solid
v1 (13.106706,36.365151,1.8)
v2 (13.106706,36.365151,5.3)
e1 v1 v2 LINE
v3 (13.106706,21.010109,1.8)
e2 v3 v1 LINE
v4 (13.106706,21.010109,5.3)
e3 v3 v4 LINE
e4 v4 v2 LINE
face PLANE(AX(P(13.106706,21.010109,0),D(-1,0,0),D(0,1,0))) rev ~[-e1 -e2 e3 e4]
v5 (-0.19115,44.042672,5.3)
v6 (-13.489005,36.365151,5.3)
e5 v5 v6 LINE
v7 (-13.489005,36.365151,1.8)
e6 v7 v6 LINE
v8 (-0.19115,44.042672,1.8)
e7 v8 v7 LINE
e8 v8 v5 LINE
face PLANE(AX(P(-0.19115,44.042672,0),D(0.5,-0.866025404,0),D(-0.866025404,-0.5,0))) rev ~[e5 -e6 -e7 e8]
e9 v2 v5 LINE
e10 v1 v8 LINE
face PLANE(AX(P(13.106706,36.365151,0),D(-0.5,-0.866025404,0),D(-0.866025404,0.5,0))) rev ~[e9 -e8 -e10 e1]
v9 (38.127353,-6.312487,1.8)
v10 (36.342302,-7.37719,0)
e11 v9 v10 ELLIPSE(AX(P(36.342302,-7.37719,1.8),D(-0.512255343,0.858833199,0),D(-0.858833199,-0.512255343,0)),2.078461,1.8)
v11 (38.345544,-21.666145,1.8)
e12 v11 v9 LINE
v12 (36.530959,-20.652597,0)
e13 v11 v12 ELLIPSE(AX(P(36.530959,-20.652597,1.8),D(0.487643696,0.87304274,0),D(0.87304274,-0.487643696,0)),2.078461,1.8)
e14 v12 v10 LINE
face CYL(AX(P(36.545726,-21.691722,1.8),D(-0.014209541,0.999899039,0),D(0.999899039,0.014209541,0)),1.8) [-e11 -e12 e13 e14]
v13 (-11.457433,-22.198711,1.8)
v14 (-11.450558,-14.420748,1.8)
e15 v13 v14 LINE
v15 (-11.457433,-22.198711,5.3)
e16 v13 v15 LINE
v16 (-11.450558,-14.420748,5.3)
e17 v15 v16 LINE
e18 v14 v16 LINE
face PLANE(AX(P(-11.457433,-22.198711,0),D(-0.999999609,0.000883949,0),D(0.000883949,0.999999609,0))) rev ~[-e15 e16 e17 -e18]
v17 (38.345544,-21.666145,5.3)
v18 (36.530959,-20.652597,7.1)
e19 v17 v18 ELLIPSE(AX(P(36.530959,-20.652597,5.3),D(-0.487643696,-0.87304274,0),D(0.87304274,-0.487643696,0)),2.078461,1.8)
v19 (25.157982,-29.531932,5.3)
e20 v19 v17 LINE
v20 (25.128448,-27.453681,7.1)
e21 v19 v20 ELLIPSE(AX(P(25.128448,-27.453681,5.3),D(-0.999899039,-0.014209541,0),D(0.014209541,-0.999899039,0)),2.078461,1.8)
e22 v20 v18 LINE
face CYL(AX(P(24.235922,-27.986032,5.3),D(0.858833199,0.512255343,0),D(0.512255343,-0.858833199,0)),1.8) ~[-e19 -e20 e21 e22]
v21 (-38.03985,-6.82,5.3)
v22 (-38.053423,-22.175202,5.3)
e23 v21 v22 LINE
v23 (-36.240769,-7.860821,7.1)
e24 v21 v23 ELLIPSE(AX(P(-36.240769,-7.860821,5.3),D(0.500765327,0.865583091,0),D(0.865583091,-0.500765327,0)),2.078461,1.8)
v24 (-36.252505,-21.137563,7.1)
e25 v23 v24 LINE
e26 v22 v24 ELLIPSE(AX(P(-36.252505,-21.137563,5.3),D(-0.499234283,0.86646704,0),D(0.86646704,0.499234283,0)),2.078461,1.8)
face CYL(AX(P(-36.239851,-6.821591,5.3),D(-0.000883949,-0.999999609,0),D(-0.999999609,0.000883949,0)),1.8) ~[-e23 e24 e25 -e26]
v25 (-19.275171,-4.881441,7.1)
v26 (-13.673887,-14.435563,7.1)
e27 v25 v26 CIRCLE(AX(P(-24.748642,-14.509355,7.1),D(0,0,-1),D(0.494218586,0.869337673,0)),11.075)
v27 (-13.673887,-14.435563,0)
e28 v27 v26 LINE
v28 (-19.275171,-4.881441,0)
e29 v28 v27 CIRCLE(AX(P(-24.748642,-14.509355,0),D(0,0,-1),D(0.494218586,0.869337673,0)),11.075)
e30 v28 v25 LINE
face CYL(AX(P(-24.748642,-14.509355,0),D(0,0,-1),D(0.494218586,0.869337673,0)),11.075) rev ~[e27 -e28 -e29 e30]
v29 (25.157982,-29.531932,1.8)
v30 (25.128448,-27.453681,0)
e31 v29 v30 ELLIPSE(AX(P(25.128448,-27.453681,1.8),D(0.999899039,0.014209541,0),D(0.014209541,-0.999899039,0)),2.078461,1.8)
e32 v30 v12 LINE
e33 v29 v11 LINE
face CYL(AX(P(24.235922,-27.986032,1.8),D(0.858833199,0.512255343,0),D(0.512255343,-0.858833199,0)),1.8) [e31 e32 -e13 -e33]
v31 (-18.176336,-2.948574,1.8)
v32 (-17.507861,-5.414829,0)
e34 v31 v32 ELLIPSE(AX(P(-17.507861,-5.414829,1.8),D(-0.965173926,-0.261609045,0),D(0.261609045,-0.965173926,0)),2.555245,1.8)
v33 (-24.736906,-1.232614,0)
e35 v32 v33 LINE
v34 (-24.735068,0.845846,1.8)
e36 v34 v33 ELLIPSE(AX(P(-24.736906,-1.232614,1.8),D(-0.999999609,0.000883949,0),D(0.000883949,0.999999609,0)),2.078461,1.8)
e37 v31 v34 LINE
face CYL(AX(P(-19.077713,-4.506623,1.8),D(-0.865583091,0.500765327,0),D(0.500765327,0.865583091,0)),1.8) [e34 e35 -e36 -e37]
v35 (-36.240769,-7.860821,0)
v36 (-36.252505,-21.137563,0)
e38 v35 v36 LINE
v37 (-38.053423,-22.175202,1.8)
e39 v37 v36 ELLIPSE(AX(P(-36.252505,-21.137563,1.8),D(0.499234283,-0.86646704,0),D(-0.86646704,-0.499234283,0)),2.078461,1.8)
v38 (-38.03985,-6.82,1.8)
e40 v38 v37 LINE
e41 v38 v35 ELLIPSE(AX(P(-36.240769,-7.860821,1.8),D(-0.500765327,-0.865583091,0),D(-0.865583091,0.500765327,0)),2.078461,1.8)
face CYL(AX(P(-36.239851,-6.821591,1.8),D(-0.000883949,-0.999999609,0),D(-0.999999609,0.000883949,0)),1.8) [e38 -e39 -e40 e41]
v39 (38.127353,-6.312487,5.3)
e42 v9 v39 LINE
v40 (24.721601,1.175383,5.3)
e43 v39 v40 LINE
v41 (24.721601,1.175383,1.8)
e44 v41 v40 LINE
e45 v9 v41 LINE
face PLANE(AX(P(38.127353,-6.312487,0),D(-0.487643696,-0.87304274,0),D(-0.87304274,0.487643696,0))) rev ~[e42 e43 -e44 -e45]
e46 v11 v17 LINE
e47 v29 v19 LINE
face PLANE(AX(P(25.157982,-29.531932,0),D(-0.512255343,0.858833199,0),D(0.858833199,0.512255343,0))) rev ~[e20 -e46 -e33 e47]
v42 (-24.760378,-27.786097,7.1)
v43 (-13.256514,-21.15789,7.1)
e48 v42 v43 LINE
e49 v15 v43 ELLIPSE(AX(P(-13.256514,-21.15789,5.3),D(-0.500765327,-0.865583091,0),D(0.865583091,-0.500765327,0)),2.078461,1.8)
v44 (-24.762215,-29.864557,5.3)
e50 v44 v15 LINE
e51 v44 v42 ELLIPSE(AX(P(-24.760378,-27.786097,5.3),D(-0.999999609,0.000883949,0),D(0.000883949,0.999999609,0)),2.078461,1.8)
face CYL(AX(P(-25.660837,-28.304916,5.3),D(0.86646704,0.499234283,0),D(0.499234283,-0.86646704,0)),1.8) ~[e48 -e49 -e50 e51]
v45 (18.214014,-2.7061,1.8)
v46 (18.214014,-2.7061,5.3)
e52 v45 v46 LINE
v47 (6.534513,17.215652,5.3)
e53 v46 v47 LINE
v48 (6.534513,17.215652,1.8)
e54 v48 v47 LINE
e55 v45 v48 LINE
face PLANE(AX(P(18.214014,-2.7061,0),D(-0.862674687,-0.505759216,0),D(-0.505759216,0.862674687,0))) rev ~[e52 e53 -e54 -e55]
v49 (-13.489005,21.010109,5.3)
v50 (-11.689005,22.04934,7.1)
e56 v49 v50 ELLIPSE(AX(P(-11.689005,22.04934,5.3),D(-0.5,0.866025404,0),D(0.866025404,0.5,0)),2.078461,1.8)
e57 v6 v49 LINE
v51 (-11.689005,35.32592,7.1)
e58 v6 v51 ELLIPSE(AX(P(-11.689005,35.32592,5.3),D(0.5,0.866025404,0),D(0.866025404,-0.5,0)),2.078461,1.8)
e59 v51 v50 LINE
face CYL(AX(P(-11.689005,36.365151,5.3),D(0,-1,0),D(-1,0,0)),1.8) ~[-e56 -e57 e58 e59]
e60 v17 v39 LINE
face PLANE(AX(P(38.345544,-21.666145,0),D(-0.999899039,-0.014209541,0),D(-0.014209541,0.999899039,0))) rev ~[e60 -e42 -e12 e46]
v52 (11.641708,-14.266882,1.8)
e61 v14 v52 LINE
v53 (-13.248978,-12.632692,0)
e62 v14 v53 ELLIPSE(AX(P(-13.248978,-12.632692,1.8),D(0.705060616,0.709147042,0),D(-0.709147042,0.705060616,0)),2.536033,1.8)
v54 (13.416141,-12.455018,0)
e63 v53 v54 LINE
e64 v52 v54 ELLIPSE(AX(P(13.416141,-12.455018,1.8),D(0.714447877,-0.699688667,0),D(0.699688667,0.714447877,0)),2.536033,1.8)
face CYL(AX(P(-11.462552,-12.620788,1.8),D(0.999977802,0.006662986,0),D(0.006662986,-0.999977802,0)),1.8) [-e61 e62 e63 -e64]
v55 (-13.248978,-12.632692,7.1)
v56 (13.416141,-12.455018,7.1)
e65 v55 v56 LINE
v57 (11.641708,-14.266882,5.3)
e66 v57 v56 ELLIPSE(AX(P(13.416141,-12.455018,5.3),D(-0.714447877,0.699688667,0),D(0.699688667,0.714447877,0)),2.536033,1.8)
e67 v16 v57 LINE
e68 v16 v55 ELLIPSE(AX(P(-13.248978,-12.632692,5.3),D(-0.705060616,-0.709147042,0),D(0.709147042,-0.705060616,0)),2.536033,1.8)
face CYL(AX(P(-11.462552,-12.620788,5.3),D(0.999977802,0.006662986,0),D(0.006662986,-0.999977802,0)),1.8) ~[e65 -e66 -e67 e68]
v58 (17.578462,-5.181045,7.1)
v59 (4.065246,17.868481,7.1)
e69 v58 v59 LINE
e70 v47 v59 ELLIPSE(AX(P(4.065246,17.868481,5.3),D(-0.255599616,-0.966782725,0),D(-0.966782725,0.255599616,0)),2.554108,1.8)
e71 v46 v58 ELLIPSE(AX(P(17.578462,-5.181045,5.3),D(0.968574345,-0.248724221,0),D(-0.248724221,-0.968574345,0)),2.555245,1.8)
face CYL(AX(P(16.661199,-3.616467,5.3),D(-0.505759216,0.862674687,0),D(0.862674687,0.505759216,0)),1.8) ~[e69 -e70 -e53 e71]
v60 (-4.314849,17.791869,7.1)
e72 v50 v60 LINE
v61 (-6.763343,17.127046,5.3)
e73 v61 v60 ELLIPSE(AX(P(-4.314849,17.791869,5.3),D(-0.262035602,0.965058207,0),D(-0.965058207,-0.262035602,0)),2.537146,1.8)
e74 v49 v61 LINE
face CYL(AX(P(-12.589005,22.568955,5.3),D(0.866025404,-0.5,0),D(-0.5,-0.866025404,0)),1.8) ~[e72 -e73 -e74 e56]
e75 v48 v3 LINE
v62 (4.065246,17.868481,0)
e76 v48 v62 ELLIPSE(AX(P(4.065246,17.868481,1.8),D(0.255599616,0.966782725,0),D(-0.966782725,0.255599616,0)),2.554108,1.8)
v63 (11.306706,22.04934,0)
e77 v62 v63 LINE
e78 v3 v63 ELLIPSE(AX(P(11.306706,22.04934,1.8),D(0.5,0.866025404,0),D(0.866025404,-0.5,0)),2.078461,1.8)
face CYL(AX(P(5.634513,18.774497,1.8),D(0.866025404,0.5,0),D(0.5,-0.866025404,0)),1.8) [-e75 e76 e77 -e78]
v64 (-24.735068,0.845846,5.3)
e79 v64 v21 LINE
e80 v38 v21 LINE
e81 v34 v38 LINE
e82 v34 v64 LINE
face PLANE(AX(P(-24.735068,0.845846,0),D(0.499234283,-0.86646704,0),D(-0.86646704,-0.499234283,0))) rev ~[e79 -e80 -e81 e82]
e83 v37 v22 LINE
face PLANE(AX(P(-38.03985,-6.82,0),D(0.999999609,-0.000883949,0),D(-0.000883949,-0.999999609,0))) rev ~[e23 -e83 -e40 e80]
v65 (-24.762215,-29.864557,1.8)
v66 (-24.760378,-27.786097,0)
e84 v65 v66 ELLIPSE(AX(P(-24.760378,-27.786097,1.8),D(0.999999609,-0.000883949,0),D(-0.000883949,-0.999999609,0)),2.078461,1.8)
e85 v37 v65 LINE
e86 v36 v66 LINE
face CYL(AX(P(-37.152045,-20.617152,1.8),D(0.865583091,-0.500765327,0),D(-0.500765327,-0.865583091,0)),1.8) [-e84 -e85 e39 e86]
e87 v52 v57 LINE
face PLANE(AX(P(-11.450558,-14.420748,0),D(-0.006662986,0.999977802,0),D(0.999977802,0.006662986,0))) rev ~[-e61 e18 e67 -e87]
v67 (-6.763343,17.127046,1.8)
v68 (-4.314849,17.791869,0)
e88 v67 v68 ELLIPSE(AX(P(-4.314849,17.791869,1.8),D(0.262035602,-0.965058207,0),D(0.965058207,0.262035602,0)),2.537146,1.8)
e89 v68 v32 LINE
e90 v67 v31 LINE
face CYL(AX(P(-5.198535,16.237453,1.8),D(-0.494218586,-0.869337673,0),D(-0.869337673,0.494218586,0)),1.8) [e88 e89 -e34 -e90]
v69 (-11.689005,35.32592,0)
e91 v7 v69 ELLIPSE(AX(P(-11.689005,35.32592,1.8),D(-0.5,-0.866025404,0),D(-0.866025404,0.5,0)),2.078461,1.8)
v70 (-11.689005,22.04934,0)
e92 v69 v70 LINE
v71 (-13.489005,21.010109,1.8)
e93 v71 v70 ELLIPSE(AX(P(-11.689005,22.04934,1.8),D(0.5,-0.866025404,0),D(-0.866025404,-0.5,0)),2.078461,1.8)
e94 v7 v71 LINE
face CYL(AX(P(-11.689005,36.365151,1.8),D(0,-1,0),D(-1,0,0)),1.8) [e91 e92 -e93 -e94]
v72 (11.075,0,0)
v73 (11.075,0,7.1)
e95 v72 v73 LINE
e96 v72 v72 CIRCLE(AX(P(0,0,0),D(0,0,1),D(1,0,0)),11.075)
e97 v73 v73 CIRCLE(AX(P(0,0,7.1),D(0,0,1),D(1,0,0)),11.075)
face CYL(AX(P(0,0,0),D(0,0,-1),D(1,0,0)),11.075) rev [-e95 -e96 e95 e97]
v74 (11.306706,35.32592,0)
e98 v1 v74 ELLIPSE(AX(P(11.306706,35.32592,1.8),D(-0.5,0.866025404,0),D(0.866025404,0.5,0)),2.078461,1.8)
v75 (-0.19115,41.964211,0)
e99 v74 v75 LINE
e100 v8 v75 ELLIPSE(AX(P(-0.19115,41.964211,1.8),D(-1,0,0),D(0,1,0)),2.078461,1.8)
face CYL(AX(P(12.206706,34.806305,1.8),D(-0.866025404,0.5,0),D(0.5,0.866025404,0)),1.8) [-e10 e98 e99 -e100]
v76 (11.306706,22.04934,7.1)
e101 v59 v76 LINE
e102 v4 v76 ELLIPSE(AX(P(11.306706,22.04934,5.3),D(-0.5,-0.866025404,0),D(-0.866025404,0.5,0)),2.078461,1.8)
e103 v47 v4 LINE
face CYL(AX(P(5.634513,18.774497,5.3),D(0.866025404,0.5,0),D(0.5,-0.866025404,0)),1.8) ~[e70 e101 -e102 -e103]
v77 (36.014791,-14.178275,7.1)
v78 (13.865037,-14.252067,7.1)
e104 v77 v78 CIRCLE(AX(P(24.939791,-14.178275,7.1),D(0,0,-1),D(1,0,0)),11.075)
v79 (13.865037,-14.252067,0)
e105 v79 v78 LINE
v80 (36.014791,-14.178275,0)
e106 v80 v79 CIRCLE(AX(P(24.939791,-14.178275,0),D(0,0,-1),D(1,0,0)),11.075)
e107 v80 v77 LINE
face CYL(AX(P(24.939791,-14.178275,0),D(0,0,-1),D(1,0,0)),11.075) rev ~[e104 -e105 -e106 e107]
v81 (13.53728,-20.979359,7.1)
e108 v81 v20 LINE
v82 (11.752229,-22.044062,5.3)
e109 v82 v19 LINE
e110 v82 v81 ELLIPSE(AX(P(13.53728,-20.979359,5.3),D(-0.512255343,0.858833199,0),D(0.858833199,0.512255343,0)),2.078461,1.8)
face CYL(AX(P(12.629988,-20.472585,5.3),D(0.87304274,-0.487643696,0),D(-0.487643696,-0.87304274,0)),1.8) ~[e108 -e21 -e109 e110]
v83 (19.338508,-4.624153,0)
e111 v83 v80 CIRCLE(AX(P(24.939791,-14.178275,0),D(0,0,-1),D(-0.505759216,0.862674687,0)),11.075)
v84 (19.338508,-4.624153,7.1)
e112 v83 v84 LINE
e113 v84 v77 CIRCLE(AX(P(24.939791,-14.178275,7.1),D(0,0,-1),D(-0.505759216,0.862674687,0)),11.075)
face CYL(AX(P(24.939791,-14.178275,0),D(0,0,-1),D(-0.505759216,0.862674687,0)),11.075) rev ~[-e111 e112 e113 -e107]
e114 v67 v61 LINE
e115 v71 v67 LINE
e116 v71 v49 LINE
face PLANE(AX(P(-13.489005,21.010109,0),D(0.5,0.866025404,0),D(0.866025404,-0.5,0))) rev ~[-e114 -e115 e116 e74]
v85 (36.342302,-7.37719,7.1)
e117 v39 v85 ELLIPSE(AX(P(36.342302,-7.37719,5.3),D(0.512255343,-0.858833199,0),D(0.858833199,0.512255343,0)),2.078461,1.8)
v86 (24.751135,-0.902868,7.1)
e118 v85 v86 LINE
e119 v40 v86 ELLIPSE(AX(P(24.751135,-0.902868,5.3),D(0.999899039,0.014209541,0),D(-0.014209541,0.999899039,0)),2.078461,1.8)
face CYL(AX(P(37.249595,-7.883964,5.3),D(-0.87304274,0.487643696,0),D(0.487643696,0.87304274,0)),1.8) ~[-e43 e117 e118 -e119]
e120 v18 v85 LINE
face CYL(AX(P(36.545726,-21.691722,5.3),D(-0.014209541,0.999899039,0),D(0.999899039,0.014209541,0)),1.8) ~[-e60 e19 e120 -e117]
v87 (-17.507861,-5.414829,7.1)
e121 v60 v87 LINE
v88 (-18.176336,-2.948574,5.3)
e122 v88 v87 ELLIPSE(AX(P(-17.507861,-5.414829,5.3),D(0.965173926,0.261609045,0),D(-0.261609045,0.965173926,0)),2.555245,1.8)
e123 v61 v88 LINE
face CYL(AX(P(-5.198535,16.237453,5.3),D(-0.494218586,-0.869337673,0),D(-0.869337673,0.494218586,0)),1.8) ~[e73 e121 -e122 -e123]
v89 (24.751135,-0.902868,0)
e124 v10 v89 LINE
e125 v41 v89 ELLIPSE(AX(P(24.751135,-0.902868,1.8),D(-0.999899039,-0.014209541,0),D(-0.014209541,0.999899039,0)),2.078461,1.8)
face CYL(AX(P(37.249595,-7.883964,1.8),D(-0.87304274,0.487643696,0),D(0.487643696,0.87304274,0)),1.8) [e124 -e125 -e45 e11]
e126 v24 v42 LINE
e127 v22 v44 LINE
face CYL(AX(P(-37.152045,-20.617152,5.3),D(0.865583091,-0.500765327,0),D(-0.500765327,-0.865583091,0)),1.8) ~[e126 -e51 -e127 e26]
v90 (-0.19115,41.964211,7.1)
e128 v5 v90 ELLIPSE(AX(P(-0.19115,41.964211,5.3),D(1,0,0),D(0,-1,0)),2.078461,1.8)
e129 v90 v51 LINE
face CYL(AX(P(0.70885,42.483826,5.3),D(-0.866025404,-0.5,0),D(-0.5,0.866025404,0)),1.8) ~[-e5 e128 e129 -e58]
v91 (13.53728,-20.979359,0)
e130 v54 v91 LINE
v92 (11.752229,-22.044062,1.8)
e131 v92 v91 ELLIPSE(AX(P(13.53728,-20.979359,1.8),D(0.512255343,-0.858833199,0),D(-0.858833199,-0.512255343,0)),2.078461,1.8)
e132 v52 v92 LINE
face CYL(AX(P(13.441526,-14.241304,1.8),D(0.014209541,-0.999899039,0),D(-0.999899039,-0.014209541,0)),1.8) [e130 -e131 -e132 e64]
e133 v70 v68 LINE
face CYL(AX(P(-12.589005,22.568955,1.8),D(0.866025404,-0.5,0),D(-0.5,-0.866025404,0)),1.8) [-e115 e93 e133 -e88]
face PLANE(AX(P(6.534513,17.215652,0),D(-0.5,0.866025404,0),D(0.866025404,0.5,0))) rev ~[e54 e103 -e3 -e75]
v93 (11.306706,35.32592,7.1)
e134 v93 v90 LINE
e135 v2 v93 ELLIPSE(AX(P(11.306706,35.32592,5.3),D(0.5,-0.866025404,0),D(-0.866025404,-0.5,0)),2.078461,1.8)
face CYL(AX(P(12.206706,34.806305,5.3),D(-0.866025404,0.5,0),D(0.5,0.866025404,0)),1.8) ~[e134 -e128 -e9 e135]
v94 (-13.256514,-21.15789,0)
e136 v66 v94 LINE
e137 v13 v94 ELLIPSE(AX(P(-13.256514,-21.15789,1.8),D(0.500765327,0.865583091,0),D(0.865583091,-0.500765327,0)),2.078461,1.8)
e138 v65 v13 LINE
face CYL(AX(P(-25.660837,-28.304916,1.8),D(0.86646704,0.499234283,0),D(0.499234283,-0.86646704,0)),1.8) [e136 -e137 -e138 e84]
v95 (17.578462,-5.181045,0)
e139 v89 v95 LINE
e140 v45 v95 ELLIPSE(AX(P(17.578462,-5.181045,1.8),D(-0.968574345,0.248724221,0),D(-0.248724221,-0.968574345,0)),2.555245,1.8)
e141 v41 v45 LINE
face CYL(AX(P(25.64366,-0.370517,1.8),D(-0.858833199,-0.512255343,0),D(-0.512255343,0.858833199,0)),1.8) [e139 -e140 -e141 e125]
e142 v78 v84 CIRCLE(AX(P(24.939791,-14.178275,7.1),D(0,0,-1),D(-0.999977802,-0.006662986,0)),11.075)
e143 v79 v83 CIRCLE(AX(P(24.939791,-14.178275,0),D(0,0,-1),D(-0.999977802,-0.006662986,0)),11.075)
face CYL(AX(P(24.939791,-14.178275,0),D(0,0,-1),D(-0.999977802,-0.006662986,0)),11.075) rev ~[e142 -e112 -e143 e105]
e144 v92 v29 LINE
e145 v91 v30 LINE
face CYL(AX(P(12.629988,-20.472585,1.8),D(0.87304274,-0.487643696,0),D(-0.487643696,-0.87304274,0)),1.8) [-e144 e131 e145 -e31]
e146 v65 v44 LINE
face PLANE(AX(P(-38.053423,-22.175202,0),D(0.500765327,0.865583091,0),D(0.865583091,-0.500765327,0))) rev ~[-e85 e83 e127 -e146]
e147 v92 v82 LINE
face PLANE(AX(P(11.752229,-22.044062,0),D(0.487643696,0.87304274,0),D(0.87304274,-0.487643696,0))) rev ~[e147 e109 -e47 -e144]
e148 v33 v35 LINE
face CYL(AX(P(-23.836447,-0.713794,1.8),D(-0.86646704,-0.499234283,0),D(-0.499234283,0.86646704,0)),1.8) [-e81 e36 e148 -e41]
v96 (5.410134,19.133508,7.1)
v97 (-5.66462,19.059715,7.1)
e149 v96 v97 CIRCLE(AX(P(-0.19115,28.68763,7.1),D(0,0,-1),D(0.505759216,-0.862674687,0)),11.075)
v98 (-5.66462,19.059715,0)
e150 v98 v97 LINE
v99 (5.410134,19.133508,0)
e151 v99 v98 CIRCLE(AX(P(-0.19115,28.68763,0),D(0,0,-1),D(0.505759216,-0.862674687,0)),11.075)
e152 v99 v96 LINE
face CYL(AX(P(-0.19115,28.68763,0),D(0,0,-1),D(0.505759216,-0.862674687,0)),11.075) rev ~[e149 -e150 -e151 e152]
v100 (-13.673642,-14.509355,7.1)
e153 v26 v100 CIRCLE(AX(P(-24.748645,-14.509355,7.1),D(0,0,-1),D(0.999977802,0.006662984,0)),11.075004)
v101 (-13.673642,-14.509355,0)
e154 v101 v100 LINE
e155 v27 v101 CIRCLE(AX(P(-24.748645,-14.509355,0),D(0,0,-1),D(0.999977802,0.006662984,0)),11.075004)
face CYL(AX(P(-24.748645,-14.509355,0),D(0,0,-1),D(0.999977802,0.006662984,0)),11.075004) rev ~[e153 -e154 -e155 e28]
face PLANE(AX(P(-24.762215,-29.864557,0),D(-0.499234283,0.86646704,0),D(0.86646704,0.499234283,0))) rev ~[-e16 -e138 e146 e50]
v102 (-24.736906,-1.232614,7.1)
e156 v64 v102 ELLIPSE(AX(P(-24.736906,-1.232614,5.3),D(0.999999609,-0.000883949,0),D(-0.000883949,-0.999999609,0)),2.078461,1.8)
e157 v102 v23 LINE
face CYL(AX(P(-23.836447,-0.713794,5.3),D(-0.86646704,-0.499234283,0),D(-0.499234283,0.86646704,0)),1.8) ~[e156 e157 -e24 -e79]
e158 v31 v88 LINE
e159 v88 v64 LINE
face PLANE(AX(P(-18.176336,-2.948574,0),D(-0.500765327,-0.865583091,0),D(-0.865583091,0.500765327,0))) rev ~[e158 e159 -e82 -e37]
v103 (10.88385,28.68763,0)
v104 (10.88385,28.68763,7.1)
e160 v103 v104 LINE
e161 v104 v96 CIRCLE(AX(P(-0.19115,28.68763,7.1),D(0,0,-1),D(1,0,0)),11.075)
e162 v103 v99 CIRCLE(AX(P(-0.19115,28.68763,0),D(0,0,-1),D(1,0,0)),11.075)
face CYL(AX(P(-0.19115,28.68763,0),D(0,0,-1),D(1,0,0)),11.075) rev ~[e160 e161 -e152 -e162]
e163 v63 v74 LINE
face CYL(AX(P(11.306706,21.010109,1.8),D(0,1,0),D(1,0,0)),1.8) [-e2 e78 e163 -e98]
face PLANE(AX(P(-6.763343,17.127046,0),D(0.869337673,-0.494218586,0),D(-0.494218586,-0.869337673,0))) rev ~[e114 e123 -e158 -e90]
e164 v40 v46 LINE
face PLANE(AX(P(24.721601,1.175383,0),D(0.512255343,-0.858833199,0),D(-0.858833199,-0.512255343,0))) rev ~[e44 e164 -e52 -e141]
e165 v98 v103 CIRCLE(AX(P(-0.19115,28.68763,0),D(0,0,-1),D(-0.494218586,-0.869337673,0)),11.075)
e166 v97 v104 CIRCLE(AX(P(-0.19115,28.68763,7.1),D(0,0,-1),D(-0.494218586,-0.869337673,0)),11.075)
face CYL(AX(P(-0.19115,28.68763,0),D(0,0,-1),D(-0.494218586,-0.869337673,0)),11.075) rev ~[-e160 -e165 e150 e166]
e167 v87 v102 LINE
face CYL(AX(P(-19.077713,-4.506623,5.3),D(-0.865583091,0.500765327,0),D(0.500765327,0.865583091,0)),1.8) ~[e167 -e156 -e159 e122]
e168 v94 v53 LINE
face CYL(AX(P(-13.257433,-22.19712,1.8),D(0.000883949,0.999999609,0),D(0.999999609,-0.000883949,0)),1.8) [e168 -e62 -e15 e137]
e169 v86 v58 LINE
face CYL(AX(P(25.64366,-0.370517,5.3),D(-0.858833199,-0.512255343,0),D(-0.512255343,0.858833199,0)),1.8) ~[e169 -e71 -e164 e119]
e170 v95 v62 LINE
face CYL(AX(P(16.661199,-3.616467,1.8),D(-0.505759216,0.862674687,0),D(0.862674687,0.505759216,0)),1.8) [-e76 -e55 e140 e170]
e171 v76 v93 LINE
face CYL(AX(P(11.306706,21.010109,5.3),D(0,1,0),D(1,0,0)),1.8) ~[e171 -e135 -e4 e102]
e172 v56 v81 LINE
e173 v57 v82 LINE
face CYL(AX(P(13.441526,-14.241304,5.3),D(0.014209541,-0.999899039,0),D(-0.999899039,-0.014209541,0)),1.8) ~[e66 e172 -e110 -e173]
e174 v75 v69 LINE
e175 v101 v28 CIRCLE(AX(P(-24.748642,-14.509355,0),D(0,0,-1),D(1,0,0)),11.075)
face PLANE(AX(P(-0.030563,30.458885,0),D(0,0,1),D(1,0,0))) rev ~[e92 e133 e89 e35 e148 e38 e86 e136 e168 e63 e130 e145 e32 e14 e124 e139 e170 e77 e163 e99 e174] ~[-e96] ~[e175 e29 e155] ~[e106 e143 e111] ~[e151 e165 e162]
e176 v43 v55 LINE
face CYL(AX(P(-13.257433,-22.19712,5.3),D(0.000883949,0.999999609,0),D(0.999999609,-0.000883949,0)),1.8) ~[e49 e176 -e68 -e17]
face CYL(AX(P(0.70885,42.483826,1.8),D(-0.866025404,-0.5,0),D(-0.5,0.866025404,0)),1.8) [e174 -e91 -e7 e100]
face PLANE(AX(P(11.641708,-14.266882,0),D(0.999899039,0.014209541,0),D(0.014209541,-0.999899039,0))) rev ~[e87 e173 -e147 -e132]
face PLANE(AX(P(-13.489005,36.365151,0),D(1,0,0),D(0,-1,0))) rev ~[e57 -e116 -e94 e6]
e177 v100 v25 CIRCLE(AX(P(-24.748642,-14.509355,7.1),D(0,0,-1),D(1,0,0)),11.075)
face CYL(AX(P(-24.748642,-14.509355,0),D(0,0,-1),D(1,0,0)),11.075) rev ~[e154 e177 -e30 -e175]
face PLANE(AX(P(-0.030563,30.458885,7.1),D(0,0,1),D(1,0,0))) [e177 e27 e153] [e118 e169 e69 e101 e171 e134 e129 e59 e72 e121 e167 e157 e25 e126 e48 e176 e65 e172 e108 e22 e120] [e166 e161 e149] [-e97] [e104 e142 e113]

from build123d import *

# Parameters (mm, degrees)
F0_R     = 11.075
F1_DEPTH = 7.1
F2_R     = 1.8


with BuildPart() as f1:
    # F0 (on Top) → F1 (new body)
    with BuildSketch(Plane.XY):
        with BuildLine():
            ThreePointArc((10.883850477, 28.6876300688), (9.4184768424, 23.182114097), (5.4101337969, 19.1335079129))
            Line((5.4101337969, 19.1335079129), (6.5345129791, 17.2156516926))
            Line((6.5345129791, 17.2156516926), (13.1067064335, 21.0101093527))
            Line((13.1067064335, 21.0101093527), (13.1067064335, 36.365150785))
            Line((13.1067064335, 36.365150785), (-0.191149523, 44.0426715011))
            Line((-0.191149523, 44.0426715011), (-13.4890054796, 36.365150785))
            Line((-13.4890054796, 36.365150785), (-13.4890054796, 21.0101093527))
            Line((-13.4890054796, 21.0101093527), (-6.7633429774, 17.1270462966))
            Line((-6.7633429774, 17.1270462966), (-5.664620361, 19.059715342))
            ThreePointArc((-5.664620361, 19.059715342), (-5.7605720905, 38.2603599441), (10.883850477, 28.6876300688))
        make_face()
        with BuildLine():
            Line((6.5345129791, 17.2156516926), (5.4101337969, 19.1335079129))
            ThreePointArc((5.4101337969, 19.1335079129), (-0.1173569522, 17.612875911), (-5.664620361, 19.059715342))
            Line((-5.664620361, 19.059715342), (-6.7633429774, 17.1270462966))
            Line((-6.7633429774, 17.1270462966), (-0.191149523, 13.3325886365))
            Line((-0.191149523, 13.3325886365), (6.5345129791, 17.2156516926))
        make_face()
        Polygon((18.2140135788, -2.7060999984), (6.5345129791, 17.2156516926), (-0.191149523, 13.3325886365), (-6.7633429774, 17.1270462966), (-18.1763357298, -2.9485737718), (-11.4438602402, -6.8435092462), (-11.4505581332, -14.420748465), (11.6417076562, -14.2668816039), (11.5340385205, -6.6904044278), align=None)
        Circle(F0_R, mode=Mode.SUBTRACT)
        with BuildLine():
            Line((24.7216007166, 1.1753827964), (18.2140135788, -2.7060999984))
            Line((18.2140135788, -2.7060999984), (19.3385078556, -4.6241525356))
            ThreePointArc((19.3385078556, -4.6241525356), (30.4453071473, -4.5686483261), (36.0147911755, -14.1782746915))
            ThreePointArc((36.0147911755, -14.1782746915), (24.9766876657, -25.2532132308), (13.8650370177, -14.2520672624))
            Line((13.8650370177, -14.2520672624), (11.6417076562, -14.2668816039))
            Line((11.6417076562, -14.2668816039), (11.7522289794, -22.0440619158))
            Line((11.7522289794, -22.0440619158), (25.1579816344, -29.5319321795))
            Line((25.1579816344, -29.5319321795), (38.3455438305, -21.6661449552))
            Line((38.3455438305, -21.6661449552), (38.1273533716, -6.3124874673))
            Line((38.1273533716, -6.3124874673), (24.7216007166, 1.1753827964))
        make_face()
        with BuildLine():
            Line((19.3385078556, -4.6241525356), (18.2140135788, -2.7060999984))
            Line((18.2140135788, -2.7060999984), (11.5340385205, -6.6904044278))
            Line((11.5340385205, -6.6904044278), (11.6417076562, -14.2668816039))
            Line((11.6417076562, -14.2668816039), (13.8650370177, -14.2520672624))
            ThreePointArc((13.8650370177, -14.2520672624), (15.3118764487, -8.7048038536), (19.3385078556, -4.6241525356))
        make_face()
        with BuildLine():
            Line((-11.4438602402, -6.8435092462), (-18.1763357298, -2.9485737718))
            Line((-18.1763357298, -2.9485737718), (-19.2751708145, -4.8814406505))
            ThreePointArc((-19.2751708145, -4.8814406505), (-15.1945194965, -8.9080720574), (-13.6738874946, -14.4355628064))
            Line((-13.6738874946, -14.4355628064), (-11.4505581332, -14.420748465))
            Line((-11.4505581332, -14.420748465), (-11.4438602402, -6.8435092462))
        make_face()
        with BuildLine():
            Line((-19.2751708145, -4.8814406505), (-18.1763357298, -2.9485737718))
            Line((-18.1763357298, -2.9485737718), (-24.7350684373, 0.8458463831))
            Line((-24.7350684373, 0.8458463831), (-38.0398498496, -6.819999748))
            Line((-38.0398498496, -6.819999748), (-38.0534230647, -22.1752015083))
            Line((-38.0534230647, -22.1752015083), (-24.7622148676, -29.8645571376))
            Line((-24.7622148676, -29.8645571376), (-11.4574334553, -22.1987110066))
            Line((-11.4574334553, -22.1987110066), (-11.4505581332, -14.420748465))
            Line((-11.4505581332, -14.420748465), (-13.6738874946, -14.4355628064))
            ThreePointArc((-13.6738874946, -14.4355628064), (-13.6737031132, -14.4724588871), (-13.6736416525, -14.5093553773))
            ThreePointArc((-13.6736416525, -14.5093553773), (-34.3213715277, -20.0787779447), (-19.2751708145, -4.8814406505))
        make_face()
    extrude(amount=F1_DEPTH)

    # F2
    f2_edges = [f1.edges().sort_by_distance(p)[0] for p in [
        (-18.109824, -26.031634, 7.1),
        (0.095575, -14.343815, 7.1),
        (18.455105, -25.787997, 7.1),
        (31.751763, -25.599039, 7.1),
        (38.236449, -13.989316, 7.1),
        (31.424477, -2.568552, 7.1),
        (21.467807, -0.765359, 7.1),
        (12.374263, 7.254776, 7.1),
        (-31.407819, -26.019879, 7.1),
        (-38.046636, -14.497601, 7.1),
        (-31.387459, -2.987077, 7.1),
        (-21.455702, -1.051364, 7.1),
        (-12.469839, 7.089236, 7.1),
        (-10.126174, 19.068578, 7.1),
        (-13.489005, 28.68763, 7.1),
        (-6.840078, 40.203911, 7.1),
        (6.457778, 40.203911, 7.1),
        (13.106706, 28.68763, 7.1),
        (9.82061, 19.112881, 7.1),
        (31.424477, -2.568552, 0),
        (21.467807, -0.765359, 0),
        (12.374263, 7.254776, 0),
        (9.82061, 19.112881, 0),
        (13.106706, 28.68763, 0),
        (6.457778, 40.203911, 0),
        (-6.840078, 40.203911, 0),
        (-13.489005, 28.68763, 0),
        (-10.126174, 19.068578, 0),
        (-12.469839, 7.089236, 0),
        (-21.455702, -1.051364, 0),
        (-31.387459, -2.987077, 0),
        (-38.046636, -14.497601, 0),
        (-31.407819, -26.019879, 0),
        (-18.109824, -26.031634, 0),
        (-11.453996, -18.30973, 0),
        (0.095575, -14.343815, 0),
        (11.696968, -18.155472, 0),
        (18.455105, -25.787997, 0),
        (31.751763, -25.599039, 0),
        (38.236449, -13.989316, 0),
        (-11.453996, -18.30973, 7.1),
        (11.696968, -18.155472, 7.1),
    ]]
    fillet(f2_edges, radius=F2_R)


solid = f1.part
